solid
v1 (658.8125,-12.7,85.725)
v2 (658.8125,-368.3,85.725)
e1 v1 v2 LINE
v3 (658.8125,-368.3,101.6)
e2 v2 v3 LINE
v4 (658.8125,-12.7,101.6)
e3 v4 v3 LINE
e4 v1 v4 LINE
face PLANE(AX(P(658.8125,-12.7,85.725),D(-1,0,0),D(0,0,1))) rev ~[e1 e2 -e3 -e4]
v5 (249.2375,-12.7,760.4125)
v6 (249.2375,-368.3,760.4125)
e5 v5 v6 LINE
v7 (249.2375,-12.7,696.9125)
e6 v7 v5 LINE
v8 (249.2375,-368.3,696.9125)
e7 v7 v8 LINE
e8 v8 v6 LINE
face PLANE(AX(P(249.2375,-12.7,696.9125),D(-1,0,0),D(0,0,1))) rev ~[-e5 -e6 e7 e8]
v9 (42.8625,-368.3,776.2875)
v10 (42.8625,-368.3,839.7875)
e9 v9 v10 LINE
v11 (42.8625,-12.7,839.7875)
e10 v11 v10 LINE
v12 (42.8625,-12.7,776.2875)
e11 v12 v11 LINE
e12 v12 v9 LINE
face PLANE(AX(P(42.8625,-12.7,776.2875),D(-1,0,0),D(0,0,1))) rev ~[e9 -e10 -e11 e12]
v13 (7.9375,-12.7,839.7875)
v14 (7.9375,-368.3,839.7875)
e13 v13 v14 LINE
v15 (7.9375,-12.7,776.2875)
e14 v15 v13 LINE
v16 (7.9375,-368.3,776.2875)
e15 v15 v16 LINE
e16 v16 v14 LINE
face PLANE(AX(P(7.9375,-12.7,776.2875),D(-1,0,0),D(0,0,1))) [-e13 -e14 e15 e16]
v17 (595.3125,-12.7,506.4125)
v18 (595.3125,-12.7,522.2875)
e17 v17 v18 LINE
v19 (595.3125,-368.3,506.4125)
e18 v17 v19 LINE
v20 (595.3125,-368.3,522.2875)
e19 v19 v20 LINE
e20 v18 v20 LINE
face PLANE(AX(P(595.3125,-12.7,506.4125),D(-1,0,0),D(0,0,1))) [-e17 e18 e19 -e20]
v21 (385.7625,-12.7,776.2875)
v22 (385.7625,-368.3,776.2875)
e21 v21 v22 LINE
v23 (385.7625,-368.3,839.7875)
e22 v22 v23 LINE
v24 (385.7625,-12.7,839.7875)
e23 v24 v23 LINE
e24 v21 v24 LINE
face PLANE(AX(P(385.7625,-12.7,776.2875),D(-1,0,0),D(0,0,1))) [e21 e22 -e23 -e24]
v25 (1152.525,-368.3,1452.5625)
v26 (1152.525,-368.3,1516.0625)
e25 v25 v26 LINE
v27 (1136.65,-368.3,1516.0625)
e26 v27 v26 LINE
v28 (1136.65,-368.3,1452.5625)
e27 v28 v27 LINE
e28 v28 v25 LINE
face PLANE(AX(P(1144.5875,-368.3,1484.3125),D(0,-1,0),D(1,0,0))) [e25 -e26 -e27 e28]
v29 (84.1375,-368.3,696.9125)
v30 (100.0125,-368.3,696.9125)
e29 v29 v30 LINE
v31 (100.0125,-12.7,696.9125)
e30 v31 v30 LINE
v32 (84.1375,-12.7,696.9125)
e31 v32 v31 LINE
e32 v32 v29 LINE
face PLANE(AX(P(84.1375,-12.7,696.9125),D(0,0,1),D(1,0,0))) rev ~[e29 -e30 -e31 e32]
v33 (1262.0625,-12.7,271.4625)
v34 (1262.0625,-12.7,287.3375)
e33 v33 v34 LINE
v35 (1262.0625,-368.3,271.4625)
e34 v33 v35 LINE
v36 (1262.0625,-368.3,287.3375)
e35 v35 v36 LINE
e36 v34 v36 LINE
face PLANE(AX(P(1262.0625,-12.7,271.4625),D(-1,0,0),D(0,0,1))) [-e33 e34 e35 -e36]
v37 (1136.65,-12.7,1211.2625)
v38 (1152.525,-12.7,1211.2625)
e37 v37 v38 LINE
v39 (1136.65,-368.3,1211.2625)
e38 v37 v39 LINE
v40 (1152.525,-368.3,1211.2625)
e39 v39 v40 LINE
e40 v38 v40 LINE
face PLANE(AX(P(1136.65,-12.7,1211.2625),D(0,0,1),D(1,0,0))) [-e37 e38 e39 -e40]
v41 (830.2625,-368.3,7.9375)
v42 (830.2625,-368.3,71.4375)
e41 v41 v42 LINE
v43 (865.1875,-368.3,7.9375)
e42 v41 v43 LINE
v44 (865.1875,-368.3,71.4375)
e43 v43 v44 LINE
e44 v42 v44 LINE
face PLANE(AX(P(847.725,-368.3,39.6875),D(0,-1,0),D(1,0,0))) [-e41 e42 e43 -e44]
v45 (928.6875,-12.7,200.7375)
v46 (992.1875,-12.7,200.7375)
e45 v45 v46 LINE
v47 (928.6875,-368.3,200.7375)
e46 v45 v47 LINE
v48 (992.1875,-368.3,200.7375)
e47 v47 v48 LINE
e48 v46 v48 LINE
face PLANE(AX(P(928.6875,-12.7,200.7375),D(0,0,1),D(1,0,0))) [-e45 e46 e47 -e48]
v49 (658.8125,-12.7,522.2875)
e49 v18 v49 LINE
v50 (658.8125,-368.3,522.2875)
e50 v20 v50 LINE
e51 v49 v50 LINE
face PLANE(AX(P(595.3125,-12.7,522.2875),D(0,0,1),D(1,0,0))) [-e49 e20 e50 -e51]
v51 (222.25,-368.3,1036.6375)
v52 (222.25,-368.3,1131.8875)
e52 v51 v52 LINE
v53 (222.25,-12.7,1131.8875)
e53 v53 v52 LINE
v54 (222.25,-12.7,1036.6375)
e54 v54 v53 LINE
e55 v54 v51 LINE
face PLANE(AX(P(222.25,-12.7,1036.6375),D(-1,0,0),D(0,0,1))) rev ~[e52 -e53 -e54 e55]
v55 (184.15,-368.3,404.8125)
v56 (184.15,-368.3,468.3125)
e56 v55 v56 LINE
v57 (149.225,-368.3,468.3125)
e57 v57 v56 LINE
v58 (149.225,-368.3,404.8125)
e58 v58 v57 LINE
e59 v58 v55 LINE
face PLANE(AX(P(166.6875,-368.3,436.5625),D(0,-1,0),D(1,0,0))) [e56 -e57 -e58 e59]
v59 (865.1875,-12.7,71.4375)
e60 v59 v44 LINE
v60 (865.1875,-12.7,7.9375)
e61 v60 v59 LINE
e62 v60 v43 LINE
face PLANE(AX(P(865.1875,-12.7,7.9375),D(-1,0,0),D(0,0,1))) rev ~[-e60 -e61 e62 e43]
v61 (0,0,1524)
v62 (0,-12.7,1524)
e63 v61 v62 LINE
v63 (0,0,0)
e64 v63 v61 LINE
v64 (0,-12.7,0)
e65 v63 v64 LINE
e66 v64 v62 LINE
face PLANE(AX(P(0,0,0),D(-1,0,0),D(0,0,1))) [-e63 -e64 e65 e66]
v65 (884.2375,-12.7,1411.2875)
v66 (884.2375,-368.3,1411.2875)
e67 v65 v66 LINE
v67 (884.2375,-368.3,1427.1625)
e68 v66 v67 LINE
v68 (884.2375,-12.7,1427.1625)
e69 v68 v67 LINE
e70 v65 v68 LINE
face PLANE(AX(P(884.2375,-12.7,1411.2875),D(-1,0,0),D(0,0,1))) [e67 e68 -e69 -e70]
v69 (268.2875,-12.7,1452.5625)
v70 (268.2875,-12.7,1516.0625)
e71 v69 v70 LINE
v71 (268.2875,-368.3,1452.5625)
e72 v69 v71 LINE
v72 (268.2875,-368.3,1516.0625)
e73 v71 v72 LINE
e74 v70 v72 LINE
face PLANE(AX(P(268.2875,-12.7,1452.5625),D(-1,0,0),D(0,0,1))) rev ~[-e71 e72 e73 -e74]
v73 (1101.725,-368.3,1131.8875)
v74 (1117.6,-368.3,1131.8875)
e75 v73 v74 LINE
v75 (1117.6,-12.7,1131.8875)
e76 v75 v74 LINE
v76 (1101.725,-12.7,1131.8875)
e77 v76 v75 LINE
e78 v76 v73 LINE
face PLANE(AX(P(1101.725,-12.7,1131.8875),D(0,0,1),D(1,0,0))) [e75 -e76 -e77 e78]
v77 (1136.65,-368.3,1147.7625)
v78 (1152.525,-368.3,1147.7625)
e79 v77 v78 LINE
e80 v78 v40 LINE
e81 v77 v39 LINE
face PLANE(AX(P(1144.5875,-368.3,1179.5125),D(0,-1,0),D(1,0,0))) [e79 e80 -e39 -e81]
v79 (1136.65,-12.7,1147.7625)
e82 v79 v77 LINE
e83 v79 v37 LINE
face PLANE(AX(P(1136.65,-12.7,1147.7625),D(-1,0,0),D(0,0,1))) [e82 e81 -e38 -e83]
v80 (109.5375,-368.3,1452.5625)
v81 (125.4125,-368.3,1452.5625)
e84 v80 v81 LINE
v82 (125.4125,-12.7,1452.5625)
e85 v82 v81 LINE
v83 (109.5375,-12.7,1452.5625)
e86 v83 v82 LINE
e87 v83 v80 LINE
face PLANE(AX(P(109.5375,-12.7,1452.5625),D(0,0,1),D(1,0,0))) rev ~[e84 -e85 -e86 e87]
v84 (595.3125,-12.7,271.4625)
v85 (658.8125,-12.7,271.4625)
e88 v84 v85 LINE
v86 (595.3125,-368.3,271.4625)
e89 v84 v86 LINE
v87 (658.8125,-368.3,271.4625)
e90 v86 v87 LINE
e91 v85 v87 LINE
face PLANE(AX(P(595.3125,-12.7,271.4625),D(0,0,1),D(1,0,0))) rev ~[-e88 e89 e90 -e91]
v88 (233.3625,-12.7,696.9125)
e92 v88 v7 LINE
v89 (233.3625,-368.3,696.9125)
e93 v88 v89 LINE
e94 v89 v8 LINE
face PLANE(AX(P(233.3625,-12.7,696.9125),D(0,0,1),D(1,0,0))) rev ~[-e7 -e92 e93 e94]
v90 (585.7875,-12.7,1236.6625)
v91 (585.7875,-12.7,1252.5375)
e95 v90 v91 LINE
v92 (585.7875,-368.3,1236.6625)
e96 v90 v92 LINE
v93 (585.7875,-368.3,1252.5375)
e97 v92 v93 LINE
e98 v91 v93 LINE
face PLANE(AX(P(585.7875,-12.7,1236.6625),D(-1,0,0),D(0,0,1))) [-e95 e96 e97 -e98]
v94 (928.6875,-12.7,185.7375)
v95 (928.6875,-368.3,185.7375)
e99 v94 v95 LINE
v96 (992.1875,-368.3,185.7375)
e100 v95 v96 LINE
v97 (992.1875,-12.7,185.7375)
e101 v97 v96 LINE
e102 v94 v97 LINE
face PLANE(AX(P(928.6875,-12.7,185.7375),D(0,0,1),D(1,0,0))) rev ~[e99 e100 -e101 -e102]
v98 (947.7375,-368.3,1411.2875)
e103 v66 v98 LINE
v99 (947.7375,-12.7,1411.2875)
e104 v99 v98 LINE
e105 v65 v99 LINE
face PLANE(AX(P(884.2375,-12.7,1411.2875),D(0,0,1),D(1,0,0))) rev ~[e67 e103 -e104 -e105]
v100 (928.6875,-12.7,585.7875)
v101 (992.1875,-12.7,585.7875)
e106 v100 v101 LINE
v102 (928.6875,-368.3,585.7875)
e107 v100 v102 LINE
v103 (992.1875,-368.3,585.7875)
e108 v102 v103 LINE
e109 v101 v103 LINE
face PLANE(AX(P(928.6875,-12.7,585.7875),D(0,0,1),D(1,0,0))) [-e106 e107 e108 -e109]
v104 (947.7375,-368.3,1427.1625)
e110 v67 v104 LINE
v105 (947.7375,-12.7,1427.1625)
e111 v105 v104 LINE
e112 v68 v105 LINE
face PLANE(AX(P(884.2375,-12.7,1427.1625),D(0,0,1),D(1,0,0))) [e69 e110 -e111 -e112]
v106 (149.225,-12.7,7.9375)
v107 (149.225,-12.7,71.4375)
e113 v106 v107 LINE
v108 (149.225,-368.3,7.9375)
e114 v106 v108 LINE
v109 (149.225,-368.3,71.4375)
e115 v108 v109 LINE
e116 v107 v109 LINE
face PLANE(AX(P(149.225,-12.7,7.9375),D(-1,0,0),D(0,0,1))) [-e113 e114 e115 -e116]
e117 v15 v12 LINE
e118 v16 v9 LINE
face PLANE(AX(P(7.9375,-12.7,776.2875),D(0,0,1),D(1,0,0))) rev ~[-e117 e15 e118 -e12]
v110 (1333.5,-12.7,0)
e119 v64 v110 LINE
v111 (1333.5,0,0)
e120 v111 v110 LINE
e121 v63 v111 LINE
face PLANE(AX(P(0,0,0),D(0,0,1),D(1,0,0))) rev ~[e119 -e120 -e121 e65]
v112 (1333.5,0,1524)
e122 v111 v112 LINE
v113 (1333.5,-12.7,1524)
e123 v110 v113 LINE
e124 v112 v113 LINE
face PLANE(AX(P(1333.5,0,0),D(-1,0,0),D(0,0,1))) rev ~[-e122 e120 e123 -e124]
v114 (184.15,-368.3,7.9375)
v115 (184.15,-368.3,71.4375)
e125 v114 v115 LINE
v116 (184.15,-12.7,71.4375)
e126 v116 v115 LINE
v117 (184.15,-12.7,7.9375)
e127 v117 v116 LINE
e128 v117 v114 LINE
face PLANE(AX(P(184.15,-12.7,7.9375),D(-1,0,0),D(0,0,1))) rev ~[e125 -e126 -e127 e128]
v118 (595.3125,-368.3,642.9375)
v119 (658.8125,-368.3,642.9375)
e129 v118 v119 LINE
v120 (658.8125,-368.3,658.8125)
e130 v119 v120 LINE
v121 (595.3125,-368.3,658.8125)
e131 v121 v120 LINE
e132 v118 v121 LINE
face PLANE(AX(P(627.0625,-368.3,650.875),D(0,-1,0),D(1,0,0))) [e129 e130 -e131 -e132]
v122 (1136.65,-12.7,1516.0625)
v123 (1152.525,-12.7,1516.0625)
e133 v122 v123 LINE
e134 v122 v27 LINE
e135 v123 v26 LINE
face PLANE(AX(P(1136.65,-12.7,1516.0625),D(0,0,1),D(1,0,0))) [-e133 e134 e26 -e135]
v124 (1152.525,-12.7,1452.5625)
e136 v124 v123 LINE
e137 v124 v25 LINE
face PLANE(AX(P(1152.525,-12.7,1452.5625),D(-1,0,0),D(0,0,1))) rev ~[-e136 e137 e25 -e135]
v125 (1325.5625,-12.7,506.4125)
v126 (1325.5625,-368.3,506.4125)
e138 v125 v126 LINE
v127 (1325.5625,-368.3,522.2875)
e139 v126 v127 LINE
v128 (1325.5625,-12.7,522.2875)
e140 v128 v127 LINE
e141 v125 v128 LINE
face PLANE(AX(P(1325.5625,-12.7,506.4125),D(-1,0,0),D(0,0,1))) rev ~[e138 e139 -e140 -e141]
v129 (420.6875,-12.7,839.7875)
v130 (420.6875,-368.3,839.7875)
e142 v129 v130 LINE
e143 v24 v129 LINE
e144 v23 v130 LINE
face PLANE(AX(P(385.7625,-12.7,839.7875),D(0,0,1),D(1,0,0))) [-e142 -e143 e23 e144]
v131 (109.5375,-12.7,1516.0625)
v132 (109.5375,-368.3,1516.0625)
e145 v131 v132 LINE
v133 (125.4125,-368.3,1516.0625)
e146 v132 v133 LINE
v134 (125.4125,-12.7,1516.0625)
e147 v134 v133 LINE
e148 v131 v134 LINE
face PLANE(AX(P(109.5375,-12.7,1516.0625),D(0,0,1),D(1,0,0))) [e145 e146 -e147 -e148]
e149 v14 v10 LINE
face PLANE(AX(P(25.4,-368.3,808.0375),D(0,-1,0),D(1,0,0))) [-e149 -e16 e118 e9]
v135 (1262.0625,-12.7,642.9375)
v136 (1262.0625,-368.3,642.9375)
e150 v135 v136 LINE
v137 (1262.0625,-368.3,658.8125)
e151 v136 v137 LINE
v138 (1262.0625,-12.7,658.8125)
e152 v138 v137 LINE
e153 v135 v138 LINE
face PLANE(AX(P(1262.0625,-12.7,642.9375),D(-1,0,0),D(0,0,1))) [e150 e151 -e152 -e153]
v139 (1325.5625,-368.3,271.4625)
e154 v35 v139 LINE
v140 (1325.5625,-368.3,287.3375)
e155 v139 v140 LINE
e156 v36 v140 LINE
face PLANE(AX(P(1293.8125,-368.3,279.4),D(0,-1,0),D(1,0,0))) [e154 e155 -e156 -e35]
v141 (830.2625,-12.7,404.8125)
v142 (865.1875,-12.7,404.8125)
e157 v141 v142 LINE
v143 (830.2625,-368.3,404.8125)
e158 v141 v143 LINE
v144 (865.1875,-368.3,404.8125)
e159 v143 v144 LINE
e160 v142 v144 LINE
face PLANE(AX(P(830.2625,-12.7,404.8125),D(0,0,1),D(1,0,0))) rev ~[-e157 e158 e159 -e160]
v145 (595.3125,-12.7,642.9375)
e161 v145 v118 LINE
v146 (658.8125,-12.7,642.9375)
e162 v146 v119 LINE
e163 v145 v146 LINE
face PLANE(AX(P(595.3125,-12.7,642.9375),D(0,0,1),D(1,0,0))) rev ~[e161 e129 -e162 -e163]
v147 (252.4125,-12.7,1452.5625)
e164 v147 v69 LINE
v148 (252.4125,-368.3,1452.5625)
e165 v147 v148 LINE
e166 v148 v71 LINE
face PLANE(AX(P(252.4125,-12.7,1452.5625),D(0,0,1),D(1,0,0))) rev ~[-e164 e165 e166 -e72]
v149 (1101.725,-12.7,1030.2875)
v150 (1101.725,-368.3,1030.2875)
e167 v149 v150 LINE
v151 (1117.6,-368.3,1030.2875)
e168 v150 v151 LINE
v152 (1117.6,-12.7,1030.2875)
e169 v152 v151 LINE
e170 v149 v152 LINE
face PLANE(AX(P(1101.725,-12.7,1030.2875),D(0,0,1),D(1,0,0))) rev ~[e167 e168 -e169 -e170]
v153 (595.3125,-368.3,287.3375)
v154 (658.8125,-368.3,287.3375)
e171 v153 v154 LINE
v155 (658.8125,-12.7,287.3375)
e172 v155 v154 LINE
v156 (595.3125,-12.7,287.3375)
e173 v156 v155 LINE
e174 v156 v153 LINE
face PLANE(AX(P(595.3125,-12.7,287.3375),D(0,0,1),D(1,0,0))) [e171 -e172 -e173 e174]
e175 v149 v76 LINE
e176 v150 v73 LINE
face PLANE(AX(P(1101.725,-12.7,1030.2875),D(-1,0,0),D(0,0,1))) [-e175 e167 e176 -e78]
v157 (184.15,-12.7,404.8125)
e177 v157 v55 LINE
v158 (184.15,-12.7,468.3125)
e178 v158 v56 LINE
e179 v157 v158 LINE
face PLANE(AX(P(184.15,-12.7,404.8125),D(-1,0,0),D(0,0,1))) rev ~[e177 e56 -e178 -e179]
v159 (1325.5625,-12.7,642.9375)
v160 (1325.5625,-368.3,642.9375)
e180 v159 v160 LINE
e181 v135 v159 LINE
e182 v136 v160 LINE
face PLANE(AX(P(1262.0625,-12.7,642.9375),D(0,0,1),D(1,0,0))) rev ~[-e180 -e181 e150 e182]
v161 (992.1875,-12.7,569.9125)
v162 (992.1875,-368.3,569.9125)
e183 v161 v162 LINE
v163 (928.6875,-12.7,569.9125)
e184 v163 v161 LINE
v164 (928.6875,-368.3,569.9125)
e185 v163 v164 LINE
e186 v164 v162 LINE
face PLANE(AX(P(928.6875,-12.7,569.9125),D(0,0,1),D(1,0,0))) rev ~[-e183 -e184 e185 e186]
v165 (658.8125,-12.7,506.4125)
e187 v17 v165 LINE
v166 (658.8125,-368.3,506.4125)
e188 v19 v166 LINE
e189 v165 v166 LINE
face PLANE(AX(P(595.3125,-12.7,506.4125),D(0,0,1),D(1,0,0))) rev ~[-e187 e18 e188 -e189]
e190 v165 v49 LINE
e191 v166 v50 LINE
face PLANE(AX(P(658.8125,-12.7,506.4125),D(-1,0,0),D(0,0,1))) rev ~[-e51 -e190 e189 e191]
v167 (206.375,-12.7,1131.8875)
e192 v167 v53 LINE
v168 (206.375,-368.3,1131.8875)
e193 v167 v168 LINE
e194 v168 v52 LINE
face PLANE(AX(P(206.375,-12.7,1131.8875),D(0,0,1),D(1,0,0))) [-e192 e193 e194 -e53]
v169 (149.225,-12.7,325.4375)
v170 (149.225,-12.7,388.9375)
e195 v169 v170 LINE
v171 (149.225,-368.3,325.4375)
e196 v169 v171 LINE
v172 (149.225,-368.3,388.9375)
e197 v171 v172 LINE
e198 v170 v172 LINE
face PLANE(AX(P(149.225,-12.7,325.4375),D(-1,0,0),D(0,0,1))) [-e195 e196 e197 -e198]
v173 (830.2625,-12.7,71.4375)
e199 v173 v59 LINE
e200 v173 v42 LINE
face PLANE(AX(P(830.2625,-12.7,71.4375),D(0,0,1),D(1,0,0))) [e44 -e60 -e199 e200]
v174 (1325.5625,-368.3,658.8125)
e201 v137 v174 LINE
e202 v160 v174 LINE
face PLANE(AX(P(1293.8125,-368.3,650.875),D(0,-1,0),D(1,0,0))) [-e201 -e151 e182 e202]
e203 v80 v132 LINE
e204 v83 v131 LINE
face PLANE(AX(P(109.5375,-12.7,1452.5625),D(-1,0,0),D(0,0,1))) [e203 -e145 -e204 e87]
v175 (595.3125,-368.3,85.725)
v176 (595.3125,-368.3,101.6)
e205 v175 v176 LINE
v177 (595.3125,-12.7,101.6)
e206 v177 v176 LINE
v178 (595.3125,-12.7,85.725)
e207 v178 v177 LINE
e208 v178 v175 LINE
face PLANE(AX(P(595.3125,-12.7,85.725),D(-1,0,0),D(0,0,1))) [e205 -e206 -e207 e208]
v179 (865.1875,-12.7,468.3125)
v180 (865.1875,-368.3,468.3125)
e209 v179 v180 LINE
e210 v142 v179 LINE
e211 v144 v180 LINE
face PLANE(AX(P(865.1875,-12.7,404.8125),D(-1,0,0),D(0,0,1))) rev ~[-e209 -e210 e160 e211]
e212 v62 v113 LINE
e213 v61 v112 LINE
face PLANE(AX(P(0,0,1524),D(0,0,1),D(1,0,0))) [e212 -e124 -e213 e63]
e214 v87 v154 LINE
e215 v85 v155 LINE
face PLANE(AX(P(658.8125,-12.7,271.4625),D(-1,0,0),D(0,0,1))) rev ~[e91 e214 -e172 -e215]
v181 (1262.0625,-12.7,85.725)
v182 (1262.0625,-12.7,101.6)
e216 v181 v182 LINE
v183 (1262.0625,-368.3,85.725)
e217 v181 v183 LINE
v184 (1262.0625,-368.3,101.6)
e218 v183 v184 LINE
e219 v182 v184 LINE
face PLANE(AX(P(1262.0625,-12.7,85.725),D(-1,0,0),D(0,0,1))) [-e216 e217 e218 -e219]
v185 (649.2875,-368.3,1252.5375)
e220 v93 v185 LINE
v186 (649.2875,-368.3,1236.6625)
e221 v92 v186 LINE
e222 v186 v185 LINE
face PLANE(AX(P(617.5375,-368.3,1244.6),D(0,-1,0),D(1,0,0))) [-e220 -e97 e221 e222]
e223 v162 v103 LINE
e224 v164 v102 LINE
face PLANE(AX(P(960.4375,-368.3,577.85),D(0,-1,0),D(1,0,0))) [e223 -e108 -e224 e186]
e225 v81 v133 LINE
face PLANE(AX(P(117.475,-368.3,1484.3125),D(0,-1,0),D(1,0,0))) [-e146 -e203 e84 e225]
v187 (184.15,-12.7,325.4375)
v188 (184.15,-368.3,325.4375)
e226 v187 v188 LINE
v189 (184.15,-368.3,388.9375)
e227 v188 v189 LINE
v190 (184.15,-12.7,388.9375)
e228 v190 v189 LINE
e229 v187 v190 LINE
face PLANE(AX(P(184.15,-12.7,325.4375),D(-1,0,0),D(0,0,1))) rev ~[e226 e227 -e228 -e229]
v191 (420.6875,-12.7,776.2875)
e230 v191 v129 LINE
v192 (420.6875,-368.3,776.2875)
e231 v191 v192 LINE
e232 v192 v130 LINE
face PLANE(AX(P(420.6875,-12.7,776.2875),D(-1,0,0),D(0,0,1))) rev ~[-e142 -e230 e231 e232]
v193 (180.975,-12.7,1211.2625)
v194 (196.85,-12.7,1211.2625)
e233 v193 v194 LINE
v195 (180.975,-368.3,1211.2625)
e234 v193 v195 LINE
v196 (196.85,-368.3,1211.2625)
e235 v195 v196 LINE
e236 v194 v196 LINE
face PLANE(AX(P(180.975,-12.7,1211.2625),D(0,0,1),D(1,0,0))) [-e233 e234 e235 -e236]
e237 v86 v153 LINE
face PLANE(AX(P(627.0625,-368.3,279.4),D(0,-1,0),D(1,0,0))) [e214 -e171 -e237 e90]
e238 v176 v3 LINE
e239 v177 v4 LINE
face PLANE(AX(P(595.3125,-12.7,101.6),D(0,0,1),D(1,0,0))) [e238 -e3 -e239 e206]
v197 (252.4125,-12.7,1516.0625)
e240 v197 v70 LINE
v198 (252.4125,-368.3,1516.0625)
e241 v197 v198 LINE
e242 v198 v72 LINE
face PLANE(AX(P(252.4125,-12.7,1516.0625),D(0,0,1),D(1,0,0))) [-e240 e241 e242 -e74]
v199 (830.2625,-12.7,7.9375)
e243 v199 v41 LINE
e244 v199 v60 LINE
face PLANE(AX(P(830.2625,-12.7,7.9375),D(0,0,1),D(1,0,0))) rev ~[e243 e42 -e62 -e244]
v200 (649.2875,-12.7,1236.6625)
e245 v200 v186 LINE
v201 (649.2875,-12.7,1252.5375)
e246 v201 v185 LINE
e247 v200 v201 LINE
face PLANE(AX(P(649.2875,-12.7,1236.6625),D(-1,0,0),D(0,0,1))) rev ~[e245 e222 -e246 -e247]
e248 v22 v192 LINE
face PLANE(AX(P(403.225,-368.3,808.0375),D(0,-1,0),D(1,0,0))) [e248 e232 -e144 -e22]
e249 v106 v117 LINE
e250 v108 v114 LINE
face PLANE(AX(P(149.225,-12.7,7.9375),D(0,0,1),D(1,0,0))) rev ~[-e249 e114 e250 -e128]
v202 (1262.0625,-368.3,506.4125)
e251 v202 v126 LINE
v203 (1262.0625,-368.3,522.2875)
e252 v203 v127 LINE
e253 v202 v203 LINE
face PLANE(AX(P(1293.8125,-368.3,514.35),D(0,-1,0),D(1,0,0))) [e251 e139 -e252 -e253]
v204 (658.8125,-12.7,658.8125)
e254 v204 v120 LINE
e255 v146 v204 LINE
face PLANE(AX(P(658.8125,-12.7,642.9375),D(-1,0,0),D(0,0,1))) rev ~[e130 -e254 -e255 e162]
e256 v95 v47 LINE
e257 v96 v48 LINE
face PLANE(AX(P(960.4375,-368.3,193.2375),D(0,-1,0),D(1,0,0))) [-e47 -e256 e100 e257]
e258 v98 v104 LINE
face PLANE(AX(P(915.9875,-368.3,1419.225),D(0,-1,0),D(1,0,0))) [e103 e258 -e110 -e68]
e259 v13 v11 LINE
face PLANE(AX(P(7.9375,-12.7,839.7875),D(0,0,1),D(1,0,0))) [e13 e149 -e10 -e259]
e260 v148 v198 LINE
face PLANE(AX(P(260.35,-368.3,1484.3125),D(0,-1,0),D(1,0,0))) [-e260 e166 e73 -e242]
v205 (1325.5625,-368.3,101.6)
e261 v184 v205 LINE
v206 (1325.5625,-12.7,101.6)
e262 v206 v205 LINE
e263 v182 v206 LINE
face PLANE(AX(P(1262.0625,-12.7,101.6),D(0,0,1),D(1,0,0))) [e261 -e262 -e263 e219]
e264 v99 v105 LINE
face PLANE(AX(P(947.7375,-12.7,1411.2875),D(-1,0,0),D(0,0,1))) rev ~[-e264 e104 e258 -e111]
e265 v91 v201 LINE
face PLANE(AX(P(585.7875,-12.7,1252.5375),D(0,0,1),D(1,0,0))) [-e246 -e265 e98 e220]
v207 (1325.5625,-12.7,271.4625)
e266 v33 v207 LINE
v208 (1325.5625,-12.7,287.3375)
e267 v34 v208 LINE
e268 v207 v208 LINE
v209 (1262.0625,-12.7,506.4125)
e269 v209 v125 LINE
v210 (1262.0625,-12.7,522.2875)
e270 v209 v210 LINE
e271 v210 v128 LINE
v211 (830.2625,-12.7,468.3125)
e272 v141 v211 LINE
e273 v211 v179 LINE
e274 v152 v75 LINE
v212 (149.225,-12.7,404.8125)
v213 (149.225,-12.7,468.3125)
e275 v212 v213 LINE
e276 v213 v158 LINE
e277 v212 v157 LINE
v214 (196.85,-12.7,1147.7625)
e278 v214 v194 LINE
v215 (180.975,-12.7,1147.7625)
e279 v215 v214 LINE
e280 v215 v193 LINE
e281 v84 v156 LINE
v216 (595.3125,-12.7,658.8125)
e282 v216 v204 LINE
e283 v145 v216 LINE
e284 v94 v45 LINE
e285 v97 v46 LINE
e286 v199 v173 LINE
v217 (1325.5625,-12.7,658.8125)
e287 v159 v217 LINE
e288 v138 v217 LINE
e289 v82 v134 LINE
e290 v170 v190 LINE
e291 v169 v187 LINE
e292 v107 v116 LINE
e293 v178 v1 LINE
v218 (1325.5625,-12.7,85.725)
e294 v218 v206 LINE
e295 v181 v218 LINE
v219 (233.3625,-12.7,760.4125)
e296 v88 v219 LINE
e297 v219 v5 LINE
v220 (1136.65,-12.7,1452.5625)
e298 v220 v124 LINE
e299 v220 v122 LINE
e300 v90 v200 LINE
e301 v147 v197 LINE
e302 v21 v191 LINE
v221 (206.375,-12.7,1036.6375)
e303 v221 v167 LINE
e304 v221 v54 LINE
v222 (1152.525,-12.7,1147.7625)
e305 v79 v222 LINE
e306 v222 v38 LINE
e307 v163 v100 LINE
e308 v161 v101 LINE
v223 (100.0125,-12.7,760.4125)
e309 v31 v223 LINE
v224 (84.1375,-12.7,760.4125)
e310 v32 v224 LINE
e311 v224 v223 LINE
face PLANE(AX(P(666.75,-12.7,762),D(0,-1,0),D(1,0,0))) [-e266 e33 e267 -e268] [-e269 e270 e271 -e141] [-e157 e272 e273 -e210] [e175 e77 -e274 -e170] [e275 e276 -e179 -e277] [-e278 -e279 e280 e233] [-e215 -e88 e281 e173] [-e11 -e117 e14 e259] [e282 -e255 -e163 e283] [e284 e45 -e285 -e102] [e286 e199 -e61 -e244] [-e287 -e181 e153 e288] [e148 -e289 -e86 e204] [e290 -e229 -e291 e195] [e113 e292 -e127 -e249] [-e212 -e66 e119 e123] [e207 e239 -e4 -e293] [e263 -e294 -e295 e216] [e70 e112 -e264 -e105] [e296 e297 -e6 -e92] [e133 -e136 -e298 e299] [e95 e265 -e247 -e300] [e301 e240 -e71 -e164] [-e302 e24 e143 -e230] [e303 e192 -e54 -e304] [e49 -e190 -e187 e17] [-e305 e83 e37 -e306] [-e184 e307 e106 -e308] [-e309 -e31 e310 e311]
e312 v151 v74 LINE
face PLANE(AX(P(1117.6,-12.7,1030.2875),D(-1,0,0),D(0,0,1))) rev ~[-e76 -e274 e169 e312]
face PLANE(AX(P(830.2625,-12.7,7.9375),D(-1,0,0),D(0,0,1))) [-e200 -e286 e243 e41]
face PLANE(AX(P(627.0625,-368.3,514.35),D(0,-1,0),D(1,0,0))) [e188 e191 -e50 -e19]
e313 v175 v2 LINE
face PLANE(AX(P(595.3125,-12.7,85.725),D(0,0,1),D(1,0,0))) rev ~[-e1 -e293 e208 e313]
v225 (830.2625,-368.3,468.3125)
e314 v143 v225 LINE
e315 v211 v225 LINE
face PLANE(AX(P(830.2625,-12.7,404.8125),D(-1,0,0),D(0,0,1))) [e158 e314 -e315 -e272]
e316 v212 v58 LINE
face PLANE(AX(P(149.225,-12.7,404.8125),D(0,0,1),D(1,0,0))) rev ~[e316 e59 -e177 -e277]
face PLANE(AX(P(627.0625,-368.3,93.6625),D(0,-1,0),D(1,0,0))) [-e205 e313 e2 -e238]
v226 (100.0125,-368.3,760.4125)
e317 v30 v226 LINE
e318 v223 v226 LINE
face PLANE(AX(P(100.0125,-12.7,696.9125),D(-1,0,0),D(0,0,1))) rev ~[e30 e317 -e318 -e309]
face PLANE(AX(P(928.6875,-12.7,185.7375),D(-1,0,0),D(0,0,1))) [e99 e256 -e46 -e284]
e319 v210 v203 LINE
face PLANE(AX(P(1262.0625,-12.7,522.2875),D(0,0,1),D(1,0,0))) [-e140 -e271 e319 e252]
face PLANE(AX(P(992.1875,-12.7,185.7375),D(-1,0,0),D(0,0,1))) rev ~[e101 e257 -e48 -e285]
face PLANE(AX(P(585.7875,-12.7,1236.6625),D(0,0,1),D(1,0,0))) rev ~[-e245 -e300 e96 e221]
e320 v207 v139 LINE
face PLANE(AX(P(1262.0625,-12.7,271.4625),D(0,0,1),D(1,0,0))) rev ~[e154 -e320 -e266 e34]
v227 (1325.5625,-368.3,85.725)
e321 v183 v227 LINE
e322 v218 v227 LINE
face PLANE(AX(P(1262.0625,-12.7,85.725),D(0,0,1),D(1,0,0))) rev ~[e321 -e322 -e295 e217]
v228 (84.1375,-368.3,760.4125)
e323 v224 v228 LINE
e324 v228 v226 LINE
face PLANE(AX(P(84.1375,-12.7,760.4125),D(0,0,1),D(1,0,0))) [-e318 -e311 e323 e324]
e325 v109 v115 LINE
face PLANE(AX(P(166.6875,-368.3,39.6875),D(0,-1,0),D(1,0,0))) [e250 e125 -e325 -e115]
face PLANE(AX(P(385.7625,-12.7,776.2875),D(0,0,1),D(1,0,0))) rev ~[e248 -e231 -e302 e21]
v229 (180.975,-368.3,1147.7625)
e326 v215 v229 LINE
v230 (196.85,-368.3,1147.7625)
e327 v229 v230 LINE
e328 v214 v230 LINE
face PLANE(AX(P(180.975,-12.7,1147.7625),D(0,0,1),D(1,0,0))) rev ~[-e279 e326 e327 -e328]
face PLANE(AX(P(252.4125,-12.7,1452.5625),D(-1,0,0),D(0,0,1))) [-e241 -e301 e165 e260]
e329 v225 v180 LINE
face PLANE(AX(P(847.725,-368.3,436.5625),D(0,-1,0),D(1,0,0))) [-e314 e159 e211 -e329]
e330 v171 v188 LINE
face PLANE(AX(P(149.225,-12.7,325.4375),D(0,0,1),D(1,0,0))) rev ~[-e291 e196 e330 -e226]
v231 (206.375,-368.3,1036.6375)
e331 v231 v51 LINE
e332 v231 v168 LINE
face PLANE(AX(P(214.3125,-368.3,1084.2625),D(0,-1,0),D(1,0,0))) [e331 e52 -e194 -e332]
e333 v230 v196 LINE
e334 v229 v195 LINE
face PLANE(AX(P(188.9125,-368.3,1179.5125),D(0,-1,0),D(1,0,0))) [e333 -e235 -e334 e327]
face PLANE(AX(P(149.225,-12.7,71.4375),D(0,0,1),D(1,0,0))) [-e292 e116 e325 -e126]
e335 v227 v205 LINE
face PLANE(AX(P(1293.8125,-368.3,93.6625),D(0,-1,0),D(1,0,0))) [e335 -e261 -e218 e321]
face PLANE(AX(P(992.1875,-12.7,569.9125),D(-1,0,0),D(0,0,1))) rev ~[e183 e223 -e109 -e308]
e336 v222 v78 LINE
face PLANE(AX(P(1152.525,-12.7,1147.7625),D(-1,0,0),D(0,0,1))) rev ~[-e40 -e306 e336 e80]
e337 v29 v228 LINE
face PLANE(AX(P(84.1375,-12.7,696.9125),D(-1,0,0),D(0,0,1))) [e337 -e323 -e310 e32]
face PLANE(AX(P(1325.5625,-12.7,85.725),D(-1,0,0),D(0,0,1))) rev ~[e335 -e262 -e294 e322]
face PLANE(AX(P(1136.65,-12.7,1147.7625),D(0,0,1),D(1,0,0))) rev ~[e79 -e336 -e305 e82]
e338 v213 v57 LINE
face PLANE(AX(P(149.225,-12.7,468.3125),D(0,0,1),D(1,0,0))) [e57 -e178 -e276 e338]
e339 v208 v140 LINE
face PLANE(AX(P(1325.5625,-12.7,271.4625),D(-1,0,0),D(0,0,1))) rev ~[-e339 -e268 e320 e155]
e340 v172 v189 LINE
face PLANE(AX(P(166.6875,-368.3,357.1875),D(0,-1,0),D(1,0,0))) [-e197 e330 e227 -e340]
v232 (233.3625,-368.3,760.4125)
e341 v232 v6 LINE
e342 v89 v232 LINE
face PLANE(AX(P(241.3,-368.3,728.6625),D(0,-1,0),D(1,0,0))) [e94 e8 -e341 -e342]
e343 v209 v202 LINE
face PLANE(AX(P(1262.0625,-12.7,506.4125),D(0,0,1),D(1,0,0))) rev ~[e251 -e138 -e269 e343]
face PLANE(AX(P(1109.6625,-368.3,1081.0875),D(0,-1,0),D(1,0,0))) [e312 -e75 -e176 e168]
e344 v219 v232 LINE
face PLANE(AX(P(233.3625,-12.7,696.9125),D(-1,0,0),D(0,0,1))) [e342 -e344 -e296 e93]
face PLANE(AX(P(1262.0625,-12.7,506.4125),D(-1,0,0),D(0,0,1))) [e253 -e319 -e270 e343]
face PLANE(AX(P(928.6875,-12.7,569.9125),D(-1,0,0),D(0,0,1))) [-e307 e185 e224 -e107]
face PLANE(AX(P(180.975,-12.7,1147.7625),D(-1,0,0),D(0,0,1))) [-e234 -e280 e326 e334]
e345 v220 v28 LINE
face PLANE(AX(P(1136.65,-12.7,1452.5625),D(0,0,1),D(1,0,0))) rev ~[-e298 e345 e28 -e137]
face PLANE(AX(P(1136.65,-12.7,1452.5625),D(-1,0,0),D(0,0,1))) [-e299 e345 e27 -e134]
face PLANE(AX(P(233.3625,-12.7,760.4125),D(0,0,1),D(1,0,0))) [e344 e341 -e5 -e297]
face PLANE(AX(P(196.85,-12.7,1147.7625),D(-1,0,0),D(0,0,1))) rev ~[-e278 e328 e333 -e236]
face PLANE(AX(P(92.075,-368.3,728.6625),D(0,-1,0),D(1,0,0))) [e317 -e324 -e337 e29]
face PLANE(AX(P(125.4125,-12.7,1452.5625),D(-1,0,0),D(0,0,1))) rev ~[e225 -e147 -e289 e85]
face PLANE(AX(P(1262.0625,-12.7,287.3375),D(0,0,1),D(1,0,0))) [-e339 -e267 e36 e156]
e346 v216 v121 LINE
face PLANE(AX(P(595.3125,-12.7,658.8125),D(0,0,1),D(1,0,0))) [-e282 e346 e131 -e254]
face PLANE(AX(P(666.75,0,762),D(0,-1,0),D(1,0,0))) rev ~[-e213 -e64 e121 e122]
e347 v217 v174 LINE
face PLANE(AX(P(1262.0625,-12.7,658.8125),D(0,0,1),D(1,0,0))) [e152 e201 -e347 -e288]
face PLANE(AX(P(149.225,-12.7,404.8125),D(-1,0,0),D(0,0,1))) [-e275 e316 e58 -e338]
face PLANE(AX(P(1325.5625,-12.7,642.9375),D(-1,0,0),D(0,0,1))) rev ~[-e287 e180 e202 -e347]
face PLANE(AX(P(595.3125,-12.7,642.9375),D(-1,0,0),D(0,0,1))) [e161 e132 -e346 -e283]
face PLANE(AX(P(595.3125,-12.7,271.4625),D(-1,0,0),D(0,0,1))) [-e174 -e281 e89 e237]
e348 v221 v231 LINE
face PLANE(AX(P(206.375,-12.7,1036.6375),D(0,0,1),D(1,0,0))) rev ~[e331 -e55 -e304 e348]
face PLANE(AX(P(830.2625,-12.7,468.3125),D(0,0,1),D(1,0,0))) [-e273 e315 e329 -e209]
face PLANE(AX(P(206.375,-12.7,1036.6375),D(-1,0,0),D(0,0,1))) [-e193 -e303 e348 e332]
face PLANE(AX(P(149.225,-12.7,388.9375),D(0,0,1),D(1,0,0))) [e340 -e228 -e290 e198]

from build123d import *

# Parameters (mm, degrees)
F0_W     = 1333.5
F0_H     = 1524
F0_W_2   = 34.925
F0_H_2   = 63.5
F0_W_3   = 63.5
F0_H_3   = 15.875
F0_W_4   = 15.875
F0_H_4   = 15
F0_H_5   = 95.25
F0_W_5   = 184.15
F0_H_6   = 101.6
F1_DEPTH = 12.7
F2_START = 12.7
F2_DEPTH = 355.6


with BuildPart() as f1:
    # F0 (on Front) → F1 (new body)
    with BuildSketch(Plane.XZ):
        with Locations((666.75, 762)):
            Rectangle(F0_W, F0_H)
        with Locations((166.6875, 39.6875)):
            Rectangle(F0_W_2, F0_H_2, mode=Mode.SUBTRACT)
        with Locations((166.6875, 357.1875)):
            Rectangle(F0_W_2, F0_H_2, mode=Mode.SUBTRACT)
        with Locations((627.0625, 93.6625)):
            Rectangle(F0_W_3, F0_H_3, mode=Mode.SUBTRACT)
        with Locations((627.0625, 279.4)):
            Rectangle(F0_W_3, F0_H_3, mode=Mode.SUBTRACT)
        with Locations((166.6875, 436.5625)):
            Rectangle(F0_W_2, F0_H_2, mode=Mode.SUBTRACT)
        with Locations((92.075, 728.6625)):
            Rectangle(F0_W_4, F0_H_2, mode=Mode.SUBTRACT)
        with Locations((241.3, 728.6625)):
            Rectangle(F0_W_4, F0_H_2, mode=Mode.SUBTRACT)
        with Locations((627.0625, 514.35)):
            Rectangle(F0_W_3, F0_H_3, mode=Mode.SUBTRACT)
        with Locations((627.0625, 650.875)):
            Rectangle(F0_W_3, F0_H_3, mode=Mode.SUBTRACT)
        with Locations((847.725, 39.6875)):
            Rectangle(F0_W_2, F0_H_2, mode=Mode.SUBTRACT)
        with Locations((960.4375, 193.2375)):
            Rectangle(F0_W_3, F0_H_4, mode=Mode.SUBTRACT)
        with Locations((1293.8125, 93.6625)):
            Rectangle(F0_W_3, F0_H_3, mode=Mode.SUBTRACT)
        with Locations((1293.8125, 279.4)):
            Rectangle(F0_W_3, F0_H_3, mode=Mode.SUBTRACT)
        with Locations((847.725, 436.5625)):
            Rectangle(F0_W_2, F0_H_2, mode=Mode.SUBTRACT)
        with Locations((960.4375, 577.85)):
            Rectangle(F0_W_3, F0_H_3, mode=Mode.SUBTRACT)
        with Locations((1293.8125, 514.35)):
            Rectangle(F0_W_3, F0_H_3, mode=Mode.SUBTRACT)
        with Locations((1293.8125, 650.875)):
            Rectangle(F0_W_3, F0_H_3, mode=Mode.SUBTRACT)
        with Locations((25.4, 808.0375)):
            Rectangle(F0_W_2, F0_H_2, mode=Mode.SUBTRACT)
        with Locations((214.3125, 1084.2625)):
            Rectangle(F0_W_4, F0_H_5, mode=Mode.SUBTRACT)
        with Locations((403.225, 808.0375)):
            Rectangle(F0_W_2, F0_H_2, mode=Mode.SUBTRACT)
        with Locations((188.9125, 1179.5125)):
            Rectangle(F0_W_4, F0_H_2, mode=Mode.SUBTRACT)
        with Locations((117.475, 1484.3125)):
            Rectangle(F0_W_4, F0_H_2, mode=Mode.SUBTRACT)
        with Locations((260.35, 1484.3125)):
            Rectangle(F0_W_4, F0_H_2, mode=Mode.SUBTRACT)
        with Locations((617.5375, 1244.6)):
            Rectangle(F0_W_3, F0_H_3, mode=Mode.SUBTRACT)
        with Locations((477.8375, 1406.525)):
            Rectangle(F0_W_5, F0_H_3, mode=Mode.SUBTRACT)
        with Locations((1109.6625, 1081.0875)):
            Rectangle(F0_W_4, F0_H_6, mode=Mode.SUBTRACT)
        with Locations((915.9875, 1419.225)):
            Rectangle(F0_W_3, F0_H_3, mode=Mode.SUBTRACT)
        with Locations((1144.5875, 1179.5125)):
            Rectangle(F0_W_4, F0_H_2, mode=Mode.SUBTRACT)
        with Locations((1144.5875, 1484.3125)):
            Rectangle(F0_W_4, F0_H_2, mode=Mode.SUBTRACT)
        with Locations((477.8375, 1406.525)):
            Rectangle(F0_W_5, F0_H_3)
        with Locations((166.6875, 39.6875)):
            Rectangle(F0_W_2, F0_H_2)
        with Locations((847.725, 39.6875)):
            Rectangle(F0_W_2, F0_H_2)
        with Locations((166.6875, 357.1875)):
            Rectangle(F0_W_2, F0_H_2)
        with Locations((166.6875, 436.5625)):
            Rectangle(F0_W_2, F0_H_2)
        with Locations((847.725, 436.5625)):
            Rectangle(F0_W_2, F0_H_2)
        with Locations((403.225, 808.0375)):
            Rectangle(F0_W_2, F0_H_2)
        with Locations((25.4, 808.0375)):
            Rectangle(F0_W_2, F0_H_2)
        with Locations((1109.6625, 1081.0875)):
            Rectangle(F0_W_4, F0_H_6)
        with Locations((214.3125, 1084.2625)):
            Rectangle(F0_W_4, F0_H_5)
        with Locations((627.0625, 93.6625)):
            Rectangle(F0_W_3, F0_H_3)
        with Locations((627.0625, 279.4)):
            Rectangle(F0_W_3, F0_H_3)
        with Locations((1293.8125, 93.6625)):
            Rectangle(F0_W_3, F0_H_3)
        with Locations((1293.8125, 279.4)):
            Rectangle(F0_W_3, F0_H_3)
        with Locations((627.0625, 514.35)):
            Rectangle(F0_W_3, F0_H_3)
        with Locations((960.4375, 577.85)):
            Rectangle(F0_W_3, F0_H_3)
        with Locations((1293.8125, 514.35)):
            Rectangle(F0_W_3, F0_H_3)
        with Locations((1293.8125, 650.875)):
            Rectangle(F0_W_3, F0_H_3)
        with Locations((627.0625, 650.875)):
            Rectangle(F0_W_3, F0_H_3)
        with Locations((92.075, 728.6625)):
            Rectangle(F0_W_4, F0_H_2)
        with Locations((241.3, 728.6625)):
            Rectangle(F0_W_4, F0_H_2)
        with Locations((188.9125, 1179.5125)):
            Rectangle(F0_W_4, F0_H_2)
        with Locations((117.475, 1484.3125)):
            Rectangle(F0_W_4, F0_H_2)
        with Locations((260.35, 1484.3125)):
            Rectangle(F0_W_4, F0_H_2)
        with Locations((617.5375, 1244.6)):
            Rectangle(F0_W_3, F0_H_3)
        with Locations((915.9875, 1419.225)):
            Rectangle(F0_W_3, F0_H_3)
        with Locations((1144.5875, 1484.3125)):
            Rectangle(F0_W_4, F0_H_2)
        with Locations((1144.5875, 1179.5125)):
            Rectangle(F0_W_4, F0_H_2)
        with Locations((960.4375, 193.2375)):
            Rectangle(F0_W_3, F0_H_4)
    extrude(amount=F1_DEPTH)

    # F0 (on Front) → F2 (join)
    with BuildSketch(Plane.XZ.offset(F2_START)):
        with Locations((1144.5875, 1484.3125)):
            Rectangle(F0_W_4, F0_H_2)
        with Locations((1144.5875, 1179.5125)):
            Rectangle(F0_W_4, F0_H_2)
        with Locations((1109.6625, 1081.0875)):
            Rectangle(F0_W_4, F0_H_6)
        with Locations((915.9875, 1419.225)):
            Rectangle(F0_W_3, F0_H_3)
        with Locations((617.5375, 1244.6)):
            Rectangle(F0_W_3, F0_H_3)
        with Locations((188.9125, 1179.5125)):
            Rectangle(F0_W_4, F0_H_2)
        with Locations((260.35, 1484.3125)):
            Rectangle(F0_W_4, F0_H_2)
        with Locations((117.475, 1484.3125)):
            Rectangle(F0_W_4, F0_H_2)
        with Locations((25.4, 808.0375)):
            Rectangle(F0_W_2, F0_H_2)
        with Locations((214.3125, 1084.2625)):
            Rectangle(F0_W_4, F0_H_5)
        with Locations((403.225, 808.0375)):
            Rectangle(F0_W_2, F0_H_2)
        with Locations((241.3, 728.6625)):
            Rectangle(F0_W_4, F0_H_2)
        with Locations((92.075, 728.6625)):
            Rectangle(F0_W_4, F0_H_2)
        with Locations((166.6875, 436.5625)):
            Rectangle(F0_W_2, F0_H_2)
        with Locations((627.0625, 514.35)):
            Rectangle(F0_W_3, F0_H_3)
        with Locations((627.0625, 650.875)):
            Rectangle(F0_W_3, F0_H_3)
        with Locations((960.4375, 577.85)):
            Rectangle(F0_W_3, F0_H_3)
        with Locations((847.725, 436.5625)):
            Rectangle(F0_W_2, F0_H_2)
        with Locations((1293.8125, 514.35)):
            Rectangle(F0_W_3, F0_H_3)
        with Locations((1293.8125, 650.875)):
            Rectangle(F0_W_3, F0_H_3)
        with Locations((1293.8125, 93.6625)):
            Rectangle(F0_W_3, F0_H_3)
        with Locations((1293.8125, 279.4)):
            Rectangle(F0_W_3, F0_H_3)
        with Locations((960.4375, 193.2375)):
            Rectangle(F0_W_3, F0_H_4)
        with Locations((847.725, 39.6875)):
            Rectangle(F0_W_2, F0_H_2)
        with Locations((627.0625, 93.6625)):
            Rectangle(F0_W_3, F0_H_3)
        with Locations((627.0625, 279.4)):
            Rectangle(F0_W_3, F0_H_3)
        with Locations((166.6875, 39.6875)):
            Rectangle(F0_W_2, F0_H_2)
        with Locations((166.6875, 357.1875)):
            Rectangle(F0_W_2, F0_H_2)
    extrude(amount=F2_DEPTH)


solid = f1.part
